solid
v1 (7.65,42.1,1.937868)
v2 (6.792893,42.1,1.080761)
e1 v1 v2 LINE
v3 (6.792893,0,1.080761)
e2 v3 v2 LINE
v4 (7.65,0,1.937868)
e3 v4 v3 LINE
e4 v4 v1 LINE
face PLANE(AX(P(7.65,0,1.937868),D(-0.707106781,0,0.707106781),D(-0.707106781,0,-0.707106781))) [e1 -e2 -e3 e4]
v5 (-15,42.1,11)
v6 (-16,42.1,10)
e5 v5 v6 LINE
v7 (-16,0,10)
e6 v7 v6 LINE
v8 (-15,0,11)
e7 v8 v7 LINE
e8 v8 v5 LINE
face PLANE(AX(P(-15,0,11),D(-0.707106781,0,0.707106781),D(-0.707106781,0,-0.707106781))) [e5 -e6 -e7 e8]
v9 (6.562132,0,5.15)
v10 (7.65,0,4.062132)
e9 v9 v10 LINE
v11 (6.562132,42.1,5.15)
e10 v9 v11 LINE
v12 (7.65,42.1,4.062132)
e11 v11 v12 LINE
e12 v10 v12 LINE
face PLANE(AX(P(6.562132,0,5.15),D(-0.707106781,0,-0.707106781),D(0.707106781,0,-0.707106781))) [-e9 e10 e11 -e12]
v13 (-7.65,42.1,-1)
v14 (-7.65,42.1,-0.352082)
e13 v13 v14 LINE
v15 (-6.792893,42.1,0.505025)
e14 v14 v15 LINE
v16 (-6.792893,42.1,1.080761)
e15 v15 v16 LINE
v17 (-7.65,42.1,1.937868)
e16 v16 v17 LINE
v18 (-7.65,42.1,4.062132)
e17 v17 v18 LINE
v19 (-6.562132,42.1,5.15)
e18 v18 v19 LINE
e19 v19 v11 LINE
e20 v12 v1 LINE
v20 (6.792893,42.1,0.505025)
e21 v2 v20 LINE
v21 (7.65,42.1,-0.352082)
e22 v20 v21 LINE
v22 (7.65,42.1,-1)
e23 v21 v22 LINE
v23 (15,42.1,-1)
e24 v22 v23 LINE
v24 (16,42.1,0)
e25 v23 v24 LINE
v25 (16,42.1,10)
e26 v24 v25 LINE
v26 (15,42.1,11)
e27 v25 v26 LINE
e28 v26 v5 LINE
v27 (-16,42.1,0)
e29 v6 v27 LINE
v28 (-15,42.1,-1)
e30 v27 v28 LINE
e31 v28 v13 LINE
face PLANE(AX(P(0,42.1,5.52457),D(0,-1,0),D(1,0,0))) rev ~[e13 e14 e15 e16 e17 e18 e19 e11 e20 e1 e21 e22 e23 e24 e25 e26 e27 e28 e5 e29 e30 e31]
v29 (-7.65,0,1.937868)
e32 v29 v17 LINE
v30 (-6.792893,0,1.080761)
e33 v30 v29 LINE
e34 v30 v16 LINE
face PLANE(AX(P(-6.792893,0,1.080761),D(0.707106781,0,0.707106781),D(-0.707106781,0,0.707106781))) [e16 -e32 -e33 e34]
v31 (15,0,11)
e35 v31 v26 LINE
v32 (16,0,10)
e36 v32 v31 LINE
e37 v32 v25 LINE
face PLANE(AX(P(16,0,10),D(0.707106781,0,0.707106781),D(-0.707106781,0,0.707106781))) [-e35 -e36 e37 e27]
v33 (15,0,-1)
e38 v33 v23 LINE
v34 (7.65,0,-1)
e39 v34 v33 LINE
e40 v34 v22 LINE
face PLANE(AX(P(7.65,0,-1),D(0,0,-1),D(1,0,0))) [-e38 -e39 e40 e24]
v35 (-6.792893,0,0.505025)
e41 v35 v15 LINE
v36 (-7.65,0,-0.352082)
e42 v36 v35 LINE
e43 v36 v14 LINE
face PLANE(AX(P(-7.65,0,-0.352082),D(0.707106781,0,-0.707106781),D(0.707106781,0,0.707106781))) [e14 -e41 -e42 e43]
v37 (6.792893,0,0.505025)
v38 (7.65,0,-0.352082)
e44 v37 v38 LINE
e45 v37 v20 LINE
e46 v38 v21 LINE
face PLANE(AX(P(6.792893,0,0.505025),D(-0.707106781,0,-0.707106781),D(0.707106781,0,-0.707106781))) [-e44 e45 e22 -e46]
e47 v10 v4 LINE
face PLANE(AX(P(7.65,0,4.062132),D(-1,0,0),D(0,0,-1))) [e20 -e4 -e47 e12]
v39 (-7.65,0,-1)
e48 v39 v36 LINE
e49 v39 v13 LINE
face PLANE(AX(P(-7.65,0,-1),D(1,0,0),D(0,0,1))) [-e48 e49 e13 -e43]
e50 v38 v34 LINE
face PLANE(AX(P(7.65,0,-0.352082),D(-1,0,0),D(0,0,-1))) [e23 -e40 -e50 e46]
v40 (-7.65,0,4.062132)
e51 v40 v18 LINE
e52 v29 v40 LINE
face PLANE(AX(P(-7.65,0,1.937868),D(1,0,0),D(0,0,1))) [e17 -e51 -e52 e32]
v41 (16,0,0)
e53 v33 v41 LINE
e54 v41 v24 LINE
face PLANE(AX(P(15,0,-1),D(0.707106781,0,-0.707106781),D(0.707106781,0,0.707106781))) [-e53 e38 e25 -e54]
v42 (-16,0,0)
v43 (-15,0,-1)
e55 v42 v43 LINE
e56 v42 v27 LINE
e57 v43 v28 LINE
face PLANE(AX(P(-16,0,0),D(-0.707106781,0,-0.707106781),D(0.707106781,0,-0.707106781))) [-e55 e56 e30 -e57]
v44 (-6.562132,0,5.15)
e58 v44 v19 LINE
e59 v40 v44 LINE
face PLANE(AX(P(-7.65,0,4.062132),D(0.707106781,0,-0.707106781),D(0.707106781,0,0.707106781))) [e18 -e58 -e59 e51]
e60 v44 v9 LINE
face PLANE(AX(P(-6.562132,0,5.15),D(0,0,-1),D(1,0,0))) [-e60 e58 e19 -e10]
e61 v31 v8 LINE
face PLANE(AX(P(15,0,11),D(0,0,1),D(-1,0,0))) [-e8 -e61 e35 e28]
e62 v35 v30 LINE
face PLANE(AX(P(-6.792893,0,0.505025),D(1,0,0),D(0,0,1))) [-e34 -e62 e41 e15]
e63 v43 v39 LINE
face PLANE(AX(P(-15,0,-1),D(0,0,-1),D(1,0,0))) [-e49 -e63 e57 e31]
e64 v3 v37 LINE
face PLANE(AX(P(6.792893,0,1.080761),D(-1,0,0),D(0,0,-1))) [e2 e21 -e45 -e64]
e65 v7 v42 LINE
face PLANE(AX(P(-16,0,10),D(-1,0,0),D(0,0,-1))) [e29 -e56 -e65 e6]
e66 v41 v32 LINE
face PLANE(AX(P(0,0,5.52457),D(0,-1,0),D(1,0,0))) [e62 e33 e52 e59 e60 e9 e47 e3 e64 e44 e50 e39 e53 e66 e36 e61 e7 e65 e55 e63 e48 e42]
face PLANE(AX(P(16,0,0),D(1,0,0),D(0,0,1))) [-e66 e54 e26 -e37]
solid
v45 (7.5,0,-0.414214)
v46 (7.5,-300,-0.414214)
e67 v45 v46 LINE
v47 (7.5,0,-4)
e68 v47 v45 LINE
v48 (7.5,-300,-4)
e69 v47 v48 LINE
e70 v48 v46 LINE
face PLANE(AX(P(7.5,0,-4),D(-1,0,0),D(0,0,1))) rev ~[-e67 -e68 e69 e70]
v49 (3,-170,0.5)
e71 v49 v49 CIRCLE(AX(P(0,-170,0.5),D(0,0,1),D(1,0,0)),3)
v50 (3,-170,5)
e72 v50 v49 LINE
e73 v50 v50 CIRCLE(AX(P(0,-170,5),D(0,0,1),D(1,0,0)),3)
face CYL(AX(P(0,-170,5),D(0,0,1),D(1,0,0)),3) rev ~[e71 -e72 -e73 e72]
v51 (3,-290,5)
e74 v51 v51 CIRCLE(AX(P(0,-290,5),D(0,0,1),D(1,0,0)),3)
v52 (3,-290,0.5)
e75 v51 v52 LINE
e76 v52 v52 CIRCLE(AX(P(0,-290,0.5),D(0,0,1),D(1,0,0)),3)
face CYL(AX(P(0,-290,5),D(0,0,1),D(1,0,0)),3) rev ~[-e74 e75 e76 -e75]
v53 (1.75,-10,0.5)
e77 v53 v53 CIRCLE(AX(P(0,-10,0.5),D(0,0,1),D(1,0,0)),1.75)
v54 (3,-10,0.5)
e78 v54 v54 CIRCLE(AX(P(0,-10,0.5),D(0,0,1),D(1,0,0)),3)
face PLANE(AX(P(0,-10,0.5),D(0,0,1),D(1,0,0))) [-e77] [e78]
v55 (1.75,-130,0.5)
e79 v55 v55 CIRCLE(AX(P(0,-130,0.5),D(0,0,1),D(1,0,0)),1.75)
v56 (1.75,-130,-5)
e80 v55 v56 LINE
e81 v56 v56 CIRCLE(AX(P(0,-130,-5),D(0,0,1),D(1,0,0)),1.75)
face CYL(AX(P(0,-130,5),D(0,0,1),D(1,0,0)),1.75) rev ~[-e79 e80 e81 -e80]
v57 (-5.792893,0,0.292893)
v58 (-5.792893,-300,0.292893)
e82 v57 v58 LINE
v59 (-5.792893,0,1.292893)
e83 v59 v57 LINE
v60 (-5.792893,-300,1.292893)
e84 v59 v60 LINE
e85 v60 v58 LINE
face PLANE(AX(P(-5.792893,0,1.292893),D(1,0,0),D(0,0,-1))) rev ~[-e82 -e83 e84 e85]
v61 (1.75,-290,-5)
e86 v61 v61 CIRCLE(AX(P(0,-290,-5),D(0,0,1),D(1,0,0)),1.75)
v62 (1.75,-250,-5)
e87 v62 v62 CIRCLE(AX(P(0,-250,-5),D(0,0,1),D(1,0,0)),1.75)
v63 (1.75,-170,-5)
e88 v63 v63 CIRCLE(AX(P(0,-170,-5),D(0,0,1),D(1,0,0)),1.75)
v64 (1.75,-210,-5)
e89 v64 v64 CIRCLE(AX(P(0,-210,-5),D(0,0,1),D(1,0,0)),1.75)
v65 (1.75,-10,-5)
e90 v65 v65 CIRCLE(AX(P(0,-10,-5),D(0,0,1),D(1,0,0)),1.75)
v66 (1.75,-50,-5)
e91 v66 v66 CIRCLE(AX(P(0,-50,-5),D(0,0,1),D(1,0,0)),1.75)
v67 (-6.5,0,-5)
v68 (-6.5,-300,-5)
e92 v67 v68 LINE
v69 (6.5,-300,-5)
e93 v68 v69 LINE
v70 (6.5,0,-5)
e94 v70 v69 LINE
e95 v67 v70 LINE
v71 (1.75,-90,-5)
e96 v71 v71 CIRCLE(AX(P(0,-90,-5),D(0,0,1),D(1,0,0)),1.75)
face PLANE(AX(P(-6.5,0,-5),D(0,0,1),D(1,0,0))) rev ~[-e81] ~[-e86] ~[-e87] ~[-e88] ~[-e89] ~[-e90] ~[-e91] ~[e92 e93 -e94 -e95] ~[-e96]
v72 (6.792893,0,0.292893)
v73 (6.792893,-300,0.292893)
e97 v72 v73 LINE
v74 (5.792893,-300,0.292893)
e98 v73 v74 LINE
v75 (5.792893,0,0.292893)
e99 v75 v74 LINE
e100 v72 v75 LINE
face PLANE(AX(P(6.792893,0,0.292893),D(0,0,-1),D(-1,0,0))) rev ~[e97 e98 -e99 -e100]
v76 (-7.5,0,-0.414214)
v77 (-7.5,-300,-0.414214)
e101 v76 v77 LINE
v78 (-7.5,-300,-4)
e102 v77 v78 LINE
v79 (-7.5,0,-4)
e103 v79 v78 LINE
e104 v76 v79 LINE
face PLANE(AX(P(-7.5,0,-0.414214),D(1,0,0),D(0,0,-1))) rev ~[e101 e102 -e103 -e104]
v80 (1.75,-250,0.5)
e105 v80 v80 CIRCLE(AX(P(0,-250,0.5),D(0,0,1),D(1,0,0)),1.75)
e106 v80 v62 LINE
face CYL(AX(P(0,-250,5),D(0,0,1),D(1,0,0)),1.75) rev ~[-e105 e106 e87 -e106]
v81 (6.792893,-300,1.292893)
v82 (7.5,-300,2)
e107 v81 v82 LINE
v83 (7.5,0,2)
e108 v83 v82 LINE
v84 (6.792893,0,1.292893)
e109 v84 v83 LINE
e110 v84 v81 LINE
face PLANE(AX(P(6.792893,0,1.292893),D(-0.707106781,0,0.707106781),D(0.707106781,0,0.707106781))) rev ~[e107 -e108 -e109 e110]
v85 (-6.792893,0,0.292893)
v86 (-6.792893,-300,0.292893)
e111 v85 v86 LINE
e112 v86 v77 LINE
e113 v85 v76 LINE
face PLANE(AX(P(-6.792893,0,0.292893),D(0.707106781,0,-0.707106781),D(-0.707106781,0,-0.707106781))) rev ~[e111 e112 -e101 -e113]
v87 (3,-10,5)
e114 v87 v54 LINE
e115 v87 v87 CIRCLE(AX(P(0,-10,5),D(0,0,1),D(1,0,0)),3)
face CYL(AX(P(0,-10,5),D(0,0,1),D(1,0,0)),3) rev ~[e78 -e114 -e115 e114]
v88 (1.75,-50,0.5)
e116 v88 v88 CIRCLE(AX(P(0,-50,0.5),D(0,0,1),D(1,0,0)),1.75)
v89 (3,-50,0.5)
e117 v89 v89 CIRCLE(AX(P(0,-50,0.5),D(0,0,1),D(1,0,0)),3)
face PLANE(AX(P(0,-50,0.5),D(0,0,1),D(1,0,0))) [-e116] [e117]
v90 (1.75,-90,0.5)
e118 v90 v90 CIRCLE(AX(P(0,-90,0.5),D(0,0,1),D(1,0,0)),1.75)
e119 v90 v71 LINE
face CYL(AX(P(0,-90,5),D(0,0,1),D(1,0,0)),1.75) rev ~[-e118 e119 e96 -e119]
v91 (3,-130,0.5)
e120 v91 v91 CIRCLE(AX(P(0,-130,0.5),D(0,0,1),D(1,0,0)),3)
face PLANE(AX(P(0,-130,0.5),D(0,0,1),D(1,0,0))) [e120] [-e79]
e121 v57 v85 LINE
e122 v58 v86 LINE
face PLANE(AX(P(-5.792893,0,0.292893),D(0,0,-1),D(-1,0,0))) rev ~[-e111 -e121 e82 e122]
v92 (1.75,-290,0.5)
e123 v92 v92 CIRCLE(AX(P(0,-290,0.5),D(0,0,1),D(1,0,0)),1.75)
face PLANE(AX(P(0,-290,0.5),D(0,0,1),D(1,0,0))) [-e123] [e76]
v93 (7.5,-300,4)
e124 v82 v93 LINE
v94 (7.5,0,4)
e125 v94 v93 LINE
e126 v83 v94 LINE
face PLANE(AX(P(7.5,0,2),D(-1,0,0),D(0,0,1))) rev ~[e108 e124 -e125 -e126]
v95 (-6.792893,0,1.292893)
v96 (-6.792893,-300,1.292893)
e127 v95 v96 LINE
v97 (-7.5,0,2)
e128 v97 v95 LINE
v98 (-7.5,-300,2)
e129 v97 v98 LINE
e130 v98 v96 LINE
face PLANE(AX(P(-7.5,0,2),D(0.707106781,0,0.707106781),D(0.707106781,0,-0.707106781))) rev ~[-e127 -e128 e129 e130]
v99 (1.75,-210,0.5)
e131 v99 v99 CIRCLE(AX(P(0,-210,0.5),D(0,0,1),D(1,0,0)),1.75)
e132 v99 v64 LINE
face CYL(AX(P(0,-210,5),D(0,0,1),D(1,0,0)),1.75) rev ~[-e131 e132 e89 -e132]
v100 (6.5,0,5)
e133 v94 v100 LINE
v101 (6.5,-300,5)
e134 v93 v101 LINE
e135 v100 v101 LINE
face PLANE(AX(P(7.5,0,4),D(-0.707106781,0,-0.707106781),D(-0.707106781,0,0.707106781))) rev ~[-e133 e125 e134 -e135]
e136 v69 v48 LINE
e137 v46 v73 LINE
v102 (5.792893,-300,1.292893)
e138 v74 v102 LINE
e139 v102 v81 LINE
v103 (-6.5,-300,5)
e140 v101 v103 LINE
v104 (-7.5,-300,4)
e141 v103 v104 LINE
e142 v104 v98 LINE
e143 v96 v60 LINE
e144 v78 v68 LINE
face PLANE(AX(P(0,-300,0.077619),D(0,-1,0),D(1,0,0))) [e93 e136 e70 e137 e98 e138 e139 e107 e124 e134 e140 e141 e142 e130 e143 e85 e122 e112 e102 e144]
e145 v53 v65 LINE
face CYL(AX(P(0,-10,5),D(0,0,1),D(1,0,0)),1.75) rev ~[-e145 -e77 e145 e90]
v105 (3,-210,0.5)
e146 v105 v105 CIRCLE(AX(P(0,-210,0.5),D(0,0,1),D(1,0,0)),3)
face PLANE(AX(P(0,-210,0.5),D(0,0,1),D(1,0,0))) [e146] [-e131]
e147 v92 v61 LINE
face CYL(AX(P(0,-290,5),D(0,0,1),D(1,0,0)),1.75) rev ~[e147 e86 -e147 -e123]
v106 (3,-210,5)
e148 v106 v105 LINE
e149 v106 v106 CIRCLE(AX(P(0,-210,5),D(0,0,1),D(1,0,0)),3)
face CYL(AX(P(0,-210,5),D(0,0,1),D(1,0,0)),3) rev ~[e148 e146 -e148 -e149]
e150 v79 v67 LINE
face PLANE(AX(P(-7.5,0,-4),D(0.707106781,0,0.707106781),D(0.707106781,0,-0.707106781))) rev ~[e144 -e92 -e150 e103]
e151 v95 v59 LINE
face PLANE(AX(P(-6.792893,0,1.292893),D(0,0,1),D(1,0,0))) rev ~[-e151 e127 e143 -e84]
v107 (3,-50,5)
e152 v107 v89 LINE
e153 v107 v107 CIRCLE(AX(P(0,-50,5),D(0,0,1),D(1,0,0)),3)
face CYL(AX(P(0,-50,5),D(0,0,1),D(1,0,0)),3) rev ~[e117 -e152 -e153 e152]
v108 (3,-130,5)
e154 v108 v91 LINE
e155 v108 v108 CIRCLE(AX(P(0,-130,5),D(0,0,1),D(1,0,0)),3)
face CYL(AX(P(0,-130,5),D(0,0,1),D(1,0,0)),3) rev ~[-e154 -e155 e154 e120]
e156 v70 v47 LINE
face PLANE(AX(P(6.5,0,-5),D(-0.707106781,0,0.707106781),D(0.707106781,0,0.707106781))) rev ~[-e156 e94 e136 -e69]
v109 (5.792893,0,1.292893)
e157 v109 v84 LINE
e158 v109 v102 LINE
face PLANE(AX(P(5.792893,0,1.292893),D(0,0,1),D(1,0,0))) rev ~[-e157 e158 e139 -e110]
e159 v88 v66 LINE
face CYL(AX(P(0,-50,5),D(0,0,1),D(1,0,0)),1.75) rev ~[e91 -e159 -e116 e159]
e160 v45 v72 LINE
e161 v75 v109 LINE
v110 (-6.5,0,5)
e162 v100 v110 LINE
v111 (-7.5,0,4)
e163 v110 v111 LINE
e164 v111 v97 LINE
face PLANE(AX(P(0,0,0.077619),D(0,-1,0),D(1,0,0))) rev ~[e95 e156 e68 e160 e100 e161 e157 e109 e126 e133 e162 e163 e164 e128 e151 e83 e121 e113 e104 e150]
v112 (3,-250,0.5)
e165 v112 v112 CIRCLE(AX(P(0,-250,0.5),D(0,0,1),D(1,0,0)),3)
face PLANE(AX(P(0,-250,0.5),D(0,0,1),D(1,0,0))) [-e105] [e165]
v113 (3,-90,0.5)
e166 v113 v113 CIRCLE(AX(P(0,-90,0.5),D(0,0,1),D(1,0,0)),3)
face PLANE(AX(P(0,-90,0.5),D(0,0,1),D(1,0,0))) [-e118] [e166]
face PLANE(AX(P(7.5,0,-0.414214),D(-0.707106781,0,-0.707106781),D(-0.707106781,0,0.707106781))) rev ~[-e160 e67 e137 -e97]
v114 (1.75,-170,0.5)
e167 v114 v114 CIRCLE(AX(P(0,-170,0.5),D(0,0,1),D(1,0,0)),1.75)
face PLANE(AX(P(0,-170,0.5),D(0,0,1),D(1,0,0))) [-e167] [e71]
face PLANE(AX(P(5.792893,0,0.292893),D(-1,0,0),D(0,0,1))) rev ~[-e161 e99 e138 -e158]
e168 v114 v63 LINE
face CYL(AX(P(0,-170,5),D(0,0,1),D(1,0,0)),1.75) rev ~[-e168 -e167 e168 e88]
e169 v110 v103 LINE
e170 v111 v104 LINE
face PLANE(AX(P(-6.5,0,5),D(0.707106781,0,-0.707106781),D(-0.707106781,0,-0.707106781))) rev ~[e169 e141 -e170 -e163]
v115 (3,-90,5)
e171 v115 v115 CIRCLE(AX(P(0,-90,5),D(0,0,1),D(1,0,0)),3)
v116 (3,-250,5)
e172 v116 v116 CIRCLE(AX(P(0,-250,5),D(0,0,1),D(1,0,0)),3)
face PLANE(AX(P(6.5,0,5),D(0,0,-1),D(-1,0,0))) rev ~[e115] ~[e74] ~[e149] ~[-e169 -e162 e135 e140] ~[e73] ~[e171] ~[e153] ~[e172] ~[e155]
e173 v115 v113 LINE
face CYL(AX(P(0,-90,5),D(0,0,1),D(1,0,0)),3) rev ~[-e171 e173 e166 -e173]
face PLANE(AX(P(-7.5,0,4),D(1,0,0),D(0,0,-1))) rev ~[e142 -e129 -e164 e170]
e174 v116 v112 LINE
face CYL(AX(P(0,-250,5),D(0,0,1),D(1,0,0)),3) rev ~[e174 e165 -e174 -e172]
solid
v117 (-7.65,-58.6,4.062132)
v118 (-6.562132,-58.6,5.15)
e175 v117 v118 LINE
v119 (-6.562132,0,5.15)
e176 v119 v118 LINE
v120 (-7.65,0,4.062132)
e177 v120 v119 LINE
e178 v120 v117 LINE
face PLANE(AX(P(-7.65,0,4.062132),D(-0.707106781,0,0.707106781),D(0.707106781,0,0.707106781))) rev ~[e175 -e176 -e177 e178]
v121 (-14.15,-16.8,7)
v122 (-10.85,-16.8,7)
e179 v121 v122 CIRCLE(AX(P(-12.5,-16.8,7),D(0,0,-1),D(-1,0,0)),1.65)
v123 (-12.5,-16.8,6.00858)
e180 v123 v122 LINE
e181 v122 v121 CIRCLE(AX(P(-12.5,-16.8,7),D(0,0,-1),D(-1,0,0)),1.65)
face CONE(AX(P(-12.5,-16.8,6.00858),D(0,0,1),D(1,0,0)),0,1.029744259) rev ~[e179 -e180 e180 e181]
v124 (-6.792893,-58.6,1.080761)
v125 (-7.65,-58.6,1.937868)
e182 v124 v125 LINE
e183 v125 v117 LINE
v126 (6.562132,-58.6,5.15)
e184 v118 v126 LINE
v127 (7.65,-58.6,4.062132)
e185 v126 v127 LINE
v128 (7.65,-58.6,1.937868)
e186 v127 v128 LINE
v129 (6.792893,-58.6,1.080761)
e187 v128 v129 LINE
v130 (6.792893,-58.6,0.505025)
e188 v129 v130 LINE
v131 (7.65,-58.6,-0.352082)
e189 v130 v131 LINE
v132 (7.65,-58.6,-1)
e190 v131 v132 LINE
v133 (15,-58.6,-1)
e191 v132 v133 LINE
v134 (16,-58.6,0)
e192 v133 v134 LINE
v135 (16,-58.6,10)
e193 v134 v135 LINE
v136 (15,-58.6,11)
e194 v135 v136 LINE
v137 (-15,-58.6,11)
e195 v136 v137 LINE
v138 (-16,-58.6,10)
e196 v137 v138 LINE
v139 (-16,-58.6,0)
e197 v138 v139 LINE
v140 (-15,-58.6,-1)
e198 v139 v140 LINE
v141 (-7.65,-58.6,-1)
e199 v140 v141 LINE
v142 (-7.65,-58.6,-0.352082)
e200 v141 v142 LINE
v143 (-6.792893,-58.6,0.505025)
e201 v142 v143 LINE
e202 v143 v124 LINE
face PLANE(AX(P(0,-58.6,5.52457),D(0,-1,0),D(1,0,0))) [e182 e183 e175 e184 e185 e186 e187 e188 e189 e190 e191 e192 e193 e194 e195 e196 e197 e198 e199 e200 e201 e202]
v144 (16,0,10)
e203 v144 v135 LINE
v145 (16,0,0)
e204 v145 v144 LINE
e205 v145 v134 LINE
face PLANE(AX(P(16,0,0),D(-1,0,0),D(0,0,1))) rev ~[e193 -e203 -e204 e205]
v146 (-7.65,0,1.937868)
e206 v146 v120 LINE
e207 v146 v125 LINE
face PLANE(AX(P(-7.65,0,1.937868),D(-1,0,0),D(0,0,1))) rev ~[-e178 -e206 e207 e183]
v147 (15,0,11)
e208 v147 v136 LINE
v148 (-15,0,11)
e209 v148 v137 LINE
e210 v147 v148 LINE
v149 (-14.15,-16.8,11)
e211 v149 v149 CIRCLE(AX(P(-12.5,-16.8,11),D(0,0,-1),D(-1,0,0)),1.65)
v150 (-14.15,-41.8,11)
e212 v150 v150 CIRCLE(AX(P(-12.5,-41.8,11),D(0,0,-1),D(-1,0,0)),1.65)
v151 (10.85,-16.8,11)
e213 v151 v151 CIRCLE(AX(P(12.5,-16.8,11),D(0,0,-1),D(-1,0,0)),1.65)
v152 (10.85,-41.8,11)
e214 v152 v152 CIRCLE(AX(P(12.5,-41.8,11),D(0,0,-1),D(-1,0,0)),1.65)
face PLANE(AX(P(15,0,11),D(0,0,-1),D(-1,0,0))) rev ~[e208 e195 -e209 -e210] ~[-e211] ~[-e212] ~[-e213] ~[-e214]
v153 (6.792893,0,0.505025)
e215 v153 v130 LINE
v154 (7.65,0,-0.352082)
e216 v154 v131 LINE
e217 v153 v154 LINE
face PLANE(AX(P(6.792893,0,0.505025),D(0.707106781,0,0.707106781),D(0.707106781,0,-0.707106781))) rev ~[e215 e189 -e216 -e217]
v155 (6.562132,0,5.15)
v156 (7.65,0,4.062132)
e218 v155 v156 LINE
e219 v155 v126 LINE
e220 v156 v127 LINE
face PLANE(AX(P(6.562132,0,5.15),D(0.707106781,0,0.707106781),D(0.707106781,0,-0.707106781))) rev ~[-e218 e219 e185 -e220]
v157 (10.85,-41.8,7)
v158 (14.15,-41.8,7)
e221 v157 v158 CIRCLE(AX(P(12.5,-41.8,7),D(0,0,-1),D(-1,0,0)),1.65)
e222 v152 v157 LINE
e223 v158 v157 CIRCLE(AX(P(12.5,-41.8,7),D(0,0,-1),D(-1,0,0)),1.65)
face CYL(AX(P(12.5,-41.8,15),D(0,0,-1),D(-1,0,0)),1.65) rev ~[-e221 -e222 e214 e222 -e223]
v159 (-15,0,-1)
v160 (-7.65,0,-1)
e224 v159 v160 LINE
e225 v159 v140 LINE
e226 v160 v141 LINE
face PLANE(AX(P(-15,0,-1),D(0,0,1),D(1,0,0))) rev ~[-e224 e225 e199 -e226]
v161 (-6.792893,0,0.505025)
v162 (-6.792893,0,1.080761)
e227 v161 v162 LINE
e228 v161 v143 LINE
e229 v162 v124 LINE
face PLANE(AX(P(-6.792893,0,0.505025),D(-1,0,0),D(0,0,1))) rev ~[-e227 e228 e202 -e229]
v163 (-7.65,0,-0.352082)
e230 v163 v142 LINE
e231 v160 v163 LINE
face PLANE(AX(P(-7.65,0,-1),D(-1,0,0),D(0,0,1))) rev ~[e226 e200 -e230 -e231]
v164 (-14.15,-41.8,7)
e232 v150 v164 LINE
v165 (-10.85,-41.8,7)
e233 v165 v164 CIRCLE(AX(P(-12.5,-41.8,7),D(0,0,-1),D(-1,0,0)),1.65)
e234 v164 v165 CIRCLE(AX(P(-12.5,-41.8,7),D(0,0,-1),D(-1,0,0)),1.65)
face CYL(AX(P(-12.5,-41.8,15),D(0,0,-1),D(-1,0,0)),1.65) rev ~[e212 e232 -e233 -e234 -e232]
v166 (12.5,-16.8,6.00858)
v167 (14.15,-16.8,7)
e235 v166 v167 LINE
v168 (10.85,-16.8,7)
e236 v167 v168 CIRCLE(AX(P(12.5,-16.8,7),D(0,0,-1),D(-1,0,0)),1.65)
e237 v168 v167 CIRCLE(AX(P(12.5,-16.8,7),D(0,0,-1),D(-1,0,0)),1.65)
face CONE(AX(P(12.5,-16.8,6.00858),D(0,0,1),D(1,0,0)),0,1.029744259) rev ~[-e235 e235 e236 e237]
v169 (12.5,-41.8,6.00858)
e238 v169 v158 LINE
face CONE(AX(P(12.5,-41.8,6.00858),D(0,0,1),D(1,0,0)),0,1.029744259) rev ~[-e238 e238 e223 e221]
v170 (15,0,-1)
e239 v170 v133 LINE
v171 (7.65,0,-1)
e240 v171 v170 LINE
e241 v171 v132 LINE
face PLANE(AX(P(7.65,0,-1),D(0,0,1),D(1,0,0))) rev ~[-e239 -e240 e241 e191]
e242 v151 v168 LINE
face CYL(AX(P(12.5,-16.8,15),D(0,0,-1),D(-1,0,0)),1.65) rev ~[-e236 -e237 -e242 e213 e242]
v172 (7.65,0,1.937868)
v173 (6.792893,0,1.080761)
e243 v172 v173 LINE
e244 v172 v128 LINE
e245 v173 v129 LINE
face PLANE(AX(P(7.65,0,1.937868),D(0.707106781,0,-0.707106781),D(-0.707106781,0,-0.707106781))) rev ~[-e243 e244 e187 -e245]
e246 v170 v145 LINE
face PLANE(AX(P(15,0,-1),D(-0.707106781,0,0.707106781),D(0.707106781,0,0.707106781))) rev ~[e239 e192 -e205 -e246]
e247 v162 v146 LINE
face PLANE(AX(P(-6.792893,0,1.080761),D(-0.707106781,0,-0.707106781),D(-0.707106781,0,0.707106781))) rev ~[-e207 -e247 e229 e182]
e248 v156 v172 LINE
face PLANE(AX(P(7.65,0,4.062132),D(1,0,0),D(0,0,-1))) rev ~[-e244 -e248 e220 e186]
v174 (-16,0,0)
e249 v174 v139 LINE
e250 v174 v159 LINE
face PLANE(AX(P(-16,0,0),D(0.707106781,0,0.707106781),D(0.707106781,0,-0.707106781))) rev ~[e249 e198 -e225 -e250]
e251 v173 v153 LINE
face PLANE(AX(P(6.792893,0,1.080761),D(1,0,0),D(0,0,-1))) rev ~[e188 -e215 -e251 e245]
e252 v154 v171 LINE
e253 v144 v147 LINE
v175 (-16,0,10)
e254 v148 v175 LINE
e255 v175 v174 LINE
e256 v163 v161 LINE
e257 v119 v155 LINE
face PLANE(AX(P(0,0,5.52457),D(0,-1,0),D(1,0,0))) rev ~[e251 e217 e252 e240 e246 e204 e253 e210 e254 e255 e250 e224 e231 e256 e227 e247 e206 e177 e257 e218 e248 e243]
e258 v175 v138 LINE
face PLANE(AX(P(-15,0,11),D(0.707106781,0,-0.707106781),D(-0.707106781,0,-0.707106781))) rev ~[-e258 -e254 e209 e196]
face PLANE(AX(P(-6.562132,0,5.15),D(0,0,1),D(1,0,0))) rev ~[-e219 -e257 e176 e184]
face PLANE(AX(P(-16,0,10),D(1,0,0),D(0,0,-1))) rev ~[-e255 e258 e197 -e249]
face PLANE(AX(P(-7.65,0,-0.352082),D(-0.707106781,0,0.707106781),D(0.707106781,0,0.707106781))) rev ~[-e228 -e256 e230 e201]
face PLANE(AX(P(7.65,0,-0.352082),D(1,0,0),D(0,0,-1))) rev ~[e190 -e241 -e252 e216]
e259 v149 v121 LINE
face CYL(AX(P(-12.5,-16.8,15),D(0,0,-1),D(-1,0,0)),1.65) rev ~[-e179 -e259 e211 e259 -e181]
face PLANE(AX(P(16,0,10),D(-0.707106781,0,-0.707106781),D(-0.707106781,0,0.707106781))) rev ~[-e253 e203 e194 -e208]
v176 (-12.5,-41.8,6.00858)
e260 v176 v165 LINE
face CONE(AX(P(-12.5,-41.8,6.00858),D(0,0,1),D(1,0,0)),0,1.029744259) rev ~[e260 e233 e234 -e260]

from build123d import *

# Parameters (mm, degrees)
F1_DEPTH  = 300
F2_R      = 1.75
F3_DEPTH  = 10.001
F4_R      = 3
F5_DEPTH  = 4.5
F7_DEPTH  = 58.6
F8_DEPTH  = 42.1
F10_D     = 3.3
F10_DEPTH = 4
F10_TIP   = 0.9914200214


with BuildPart() as f1:
    # F0 (on Front) → F1 (new body)
    with BuildSketch(Plane.XZ):
        Polygon((-6.5, -5), (6.5, -5), (7.5, -4), (7.5, -0.4142135624), (6.7928932188, 0.2928932188), (5.7928932188, 0.2928932188), (5.7928932188, 1.2928932188), (6.7928932188, 1.2928932188), (7.5, 2), (7.5, 4), (6.5, 5), (-6.5, 5), (-7.5, 4), (-7.5, 2), (-6.7928932188, 1.2928932188), (-5.7928932188, 1.2928932188), (-5.7928932188, 0.2928932188), (-6.7928932188, 0.2928932188), (-7.5, -0.4142135624), (-7.5, -4), align=None)
    extrude(amount=F1_DEPTH)

    # F2 (on face) → F3 (cut, through all)
    with BuildSketch(Plane.XY.offset(5)):
        with Locations((0, -10)):
            Circle(F2_R)
        with Locations((0, -50)):
            Circle(F2_R)
        with Locations((0, -90)):
            Circle(F2_R)
        with Locations((0, -130)):
            Circle(F2_R)
        with Locations((0, -170)):
            Circle(F2_R)
        with Locations((0, -210)):
            Circle(F2_R)
        with Locations((0, -250)):
            Circle(F2_R)
        with Locations((0, -290)):
            Circle(F2_R)
        with Locations((0, -330)):
            Circle(F2_R)
    extrude(amount=-F3_DEPTH, mode=Mode.SUBTRACT)

    # F4 (on face) → F5 (cut)
    with BuildSketch(Plane.XY.offset(5)):
        with Locations((0, -10)):
            Circle(F4_R)
        with Locations((0, -50)):
            Circle(F4_R)
        with Locations((0, -90)):
            Circle(F4_R)
        with Locations((0, -130)):
            Circle(F4_R)
        with Locations((0, -170)):
            Circle(F4_R)
        with Locations((0, -210)):
            Circle(F4_R)
        with Locations((0, -250)):
            Circle(F4_R)
        with Locations((0, -290)):
            Circle(F4_R)
        with Locations((0, -330)):
            Circle(F4_R)
    extrude(amount=-F5_DEPTH, mode=Mode.SUBTRACT)


with BuildPart() as f7:
    # F6 (on Front) → F7 (new body)
    with BuildSketch(Plane.XZ):
        Polygon((-15, -1), (-7.65, -1), (-7.65, -0.352081528), (-6.7928932188, 0.5050252532), (-6.7928932188, 1.0807611845), (-7.65, 1.9378679656), (-7.65, 4.0621320344), (-6.5621320344, 5.15), (0, 5.15), (6.5621320344, 5.15), (7.65, 4.0621320344), (7.65, 1.9378679656), (6.7928932188, 1.0807611845), (6.7928932188, 0.5050252532), (7.65, -0.352081528), (7.65, -1), (15, -1), (16, 0), (16, 10), (15, 11), (0, 11), (-15, 11), (-16, 10), (-16, 0), align=None)
    extrude(amount=F7_DEPTH)

    # F10
    with Locations(Plane.XY.offset(11)):
        with Locations((-12.5, -16.8), (12.5, -16.8), (-12.5, -41.8), (12.5, -41.8)):
            Hole(F10_D / 2, depth=F10_DEPTH)
            with Locations((0, 0, -(F10_DEPTH + F10_TIP / 2))):  # 118° drill point
                Cone(0, F10_D / 2, F10_TIP, mode=Mode.SUBTRACT)


with BuildPart() as f8:
    # F6 (on Front) → F8 (new body)
    with BuildSketch(Plane.XZ):
        Polygon((-15, -1), (-7.65, -1), (-7.65, -0.352081528), (-6.7928932188, 0.5050252532), (-6.7928932188, 1.0807611845), (-7.65, 1.9378679656), (-7.65, 4.0621320344), (-6.5621320344, 5.15), (0, 5.15), (6.5621320344, 5.15), (7.65, 4.0621320344), (7.65, 1.9378679656), (6.7928932188, 1.0807611845), (6.7928932188, 0.5050252532), (7.65, -0.352081528), (7.65, -1), (15, -1), (16, 0), (16, 10), (15, 11), (0, 11), (-15, 11), (-16, 10), (-16, 0), align=None)
    extrude(amount=-F8_DEPTH)


solid = Compound([f1.part, f7.part, f8.part])
